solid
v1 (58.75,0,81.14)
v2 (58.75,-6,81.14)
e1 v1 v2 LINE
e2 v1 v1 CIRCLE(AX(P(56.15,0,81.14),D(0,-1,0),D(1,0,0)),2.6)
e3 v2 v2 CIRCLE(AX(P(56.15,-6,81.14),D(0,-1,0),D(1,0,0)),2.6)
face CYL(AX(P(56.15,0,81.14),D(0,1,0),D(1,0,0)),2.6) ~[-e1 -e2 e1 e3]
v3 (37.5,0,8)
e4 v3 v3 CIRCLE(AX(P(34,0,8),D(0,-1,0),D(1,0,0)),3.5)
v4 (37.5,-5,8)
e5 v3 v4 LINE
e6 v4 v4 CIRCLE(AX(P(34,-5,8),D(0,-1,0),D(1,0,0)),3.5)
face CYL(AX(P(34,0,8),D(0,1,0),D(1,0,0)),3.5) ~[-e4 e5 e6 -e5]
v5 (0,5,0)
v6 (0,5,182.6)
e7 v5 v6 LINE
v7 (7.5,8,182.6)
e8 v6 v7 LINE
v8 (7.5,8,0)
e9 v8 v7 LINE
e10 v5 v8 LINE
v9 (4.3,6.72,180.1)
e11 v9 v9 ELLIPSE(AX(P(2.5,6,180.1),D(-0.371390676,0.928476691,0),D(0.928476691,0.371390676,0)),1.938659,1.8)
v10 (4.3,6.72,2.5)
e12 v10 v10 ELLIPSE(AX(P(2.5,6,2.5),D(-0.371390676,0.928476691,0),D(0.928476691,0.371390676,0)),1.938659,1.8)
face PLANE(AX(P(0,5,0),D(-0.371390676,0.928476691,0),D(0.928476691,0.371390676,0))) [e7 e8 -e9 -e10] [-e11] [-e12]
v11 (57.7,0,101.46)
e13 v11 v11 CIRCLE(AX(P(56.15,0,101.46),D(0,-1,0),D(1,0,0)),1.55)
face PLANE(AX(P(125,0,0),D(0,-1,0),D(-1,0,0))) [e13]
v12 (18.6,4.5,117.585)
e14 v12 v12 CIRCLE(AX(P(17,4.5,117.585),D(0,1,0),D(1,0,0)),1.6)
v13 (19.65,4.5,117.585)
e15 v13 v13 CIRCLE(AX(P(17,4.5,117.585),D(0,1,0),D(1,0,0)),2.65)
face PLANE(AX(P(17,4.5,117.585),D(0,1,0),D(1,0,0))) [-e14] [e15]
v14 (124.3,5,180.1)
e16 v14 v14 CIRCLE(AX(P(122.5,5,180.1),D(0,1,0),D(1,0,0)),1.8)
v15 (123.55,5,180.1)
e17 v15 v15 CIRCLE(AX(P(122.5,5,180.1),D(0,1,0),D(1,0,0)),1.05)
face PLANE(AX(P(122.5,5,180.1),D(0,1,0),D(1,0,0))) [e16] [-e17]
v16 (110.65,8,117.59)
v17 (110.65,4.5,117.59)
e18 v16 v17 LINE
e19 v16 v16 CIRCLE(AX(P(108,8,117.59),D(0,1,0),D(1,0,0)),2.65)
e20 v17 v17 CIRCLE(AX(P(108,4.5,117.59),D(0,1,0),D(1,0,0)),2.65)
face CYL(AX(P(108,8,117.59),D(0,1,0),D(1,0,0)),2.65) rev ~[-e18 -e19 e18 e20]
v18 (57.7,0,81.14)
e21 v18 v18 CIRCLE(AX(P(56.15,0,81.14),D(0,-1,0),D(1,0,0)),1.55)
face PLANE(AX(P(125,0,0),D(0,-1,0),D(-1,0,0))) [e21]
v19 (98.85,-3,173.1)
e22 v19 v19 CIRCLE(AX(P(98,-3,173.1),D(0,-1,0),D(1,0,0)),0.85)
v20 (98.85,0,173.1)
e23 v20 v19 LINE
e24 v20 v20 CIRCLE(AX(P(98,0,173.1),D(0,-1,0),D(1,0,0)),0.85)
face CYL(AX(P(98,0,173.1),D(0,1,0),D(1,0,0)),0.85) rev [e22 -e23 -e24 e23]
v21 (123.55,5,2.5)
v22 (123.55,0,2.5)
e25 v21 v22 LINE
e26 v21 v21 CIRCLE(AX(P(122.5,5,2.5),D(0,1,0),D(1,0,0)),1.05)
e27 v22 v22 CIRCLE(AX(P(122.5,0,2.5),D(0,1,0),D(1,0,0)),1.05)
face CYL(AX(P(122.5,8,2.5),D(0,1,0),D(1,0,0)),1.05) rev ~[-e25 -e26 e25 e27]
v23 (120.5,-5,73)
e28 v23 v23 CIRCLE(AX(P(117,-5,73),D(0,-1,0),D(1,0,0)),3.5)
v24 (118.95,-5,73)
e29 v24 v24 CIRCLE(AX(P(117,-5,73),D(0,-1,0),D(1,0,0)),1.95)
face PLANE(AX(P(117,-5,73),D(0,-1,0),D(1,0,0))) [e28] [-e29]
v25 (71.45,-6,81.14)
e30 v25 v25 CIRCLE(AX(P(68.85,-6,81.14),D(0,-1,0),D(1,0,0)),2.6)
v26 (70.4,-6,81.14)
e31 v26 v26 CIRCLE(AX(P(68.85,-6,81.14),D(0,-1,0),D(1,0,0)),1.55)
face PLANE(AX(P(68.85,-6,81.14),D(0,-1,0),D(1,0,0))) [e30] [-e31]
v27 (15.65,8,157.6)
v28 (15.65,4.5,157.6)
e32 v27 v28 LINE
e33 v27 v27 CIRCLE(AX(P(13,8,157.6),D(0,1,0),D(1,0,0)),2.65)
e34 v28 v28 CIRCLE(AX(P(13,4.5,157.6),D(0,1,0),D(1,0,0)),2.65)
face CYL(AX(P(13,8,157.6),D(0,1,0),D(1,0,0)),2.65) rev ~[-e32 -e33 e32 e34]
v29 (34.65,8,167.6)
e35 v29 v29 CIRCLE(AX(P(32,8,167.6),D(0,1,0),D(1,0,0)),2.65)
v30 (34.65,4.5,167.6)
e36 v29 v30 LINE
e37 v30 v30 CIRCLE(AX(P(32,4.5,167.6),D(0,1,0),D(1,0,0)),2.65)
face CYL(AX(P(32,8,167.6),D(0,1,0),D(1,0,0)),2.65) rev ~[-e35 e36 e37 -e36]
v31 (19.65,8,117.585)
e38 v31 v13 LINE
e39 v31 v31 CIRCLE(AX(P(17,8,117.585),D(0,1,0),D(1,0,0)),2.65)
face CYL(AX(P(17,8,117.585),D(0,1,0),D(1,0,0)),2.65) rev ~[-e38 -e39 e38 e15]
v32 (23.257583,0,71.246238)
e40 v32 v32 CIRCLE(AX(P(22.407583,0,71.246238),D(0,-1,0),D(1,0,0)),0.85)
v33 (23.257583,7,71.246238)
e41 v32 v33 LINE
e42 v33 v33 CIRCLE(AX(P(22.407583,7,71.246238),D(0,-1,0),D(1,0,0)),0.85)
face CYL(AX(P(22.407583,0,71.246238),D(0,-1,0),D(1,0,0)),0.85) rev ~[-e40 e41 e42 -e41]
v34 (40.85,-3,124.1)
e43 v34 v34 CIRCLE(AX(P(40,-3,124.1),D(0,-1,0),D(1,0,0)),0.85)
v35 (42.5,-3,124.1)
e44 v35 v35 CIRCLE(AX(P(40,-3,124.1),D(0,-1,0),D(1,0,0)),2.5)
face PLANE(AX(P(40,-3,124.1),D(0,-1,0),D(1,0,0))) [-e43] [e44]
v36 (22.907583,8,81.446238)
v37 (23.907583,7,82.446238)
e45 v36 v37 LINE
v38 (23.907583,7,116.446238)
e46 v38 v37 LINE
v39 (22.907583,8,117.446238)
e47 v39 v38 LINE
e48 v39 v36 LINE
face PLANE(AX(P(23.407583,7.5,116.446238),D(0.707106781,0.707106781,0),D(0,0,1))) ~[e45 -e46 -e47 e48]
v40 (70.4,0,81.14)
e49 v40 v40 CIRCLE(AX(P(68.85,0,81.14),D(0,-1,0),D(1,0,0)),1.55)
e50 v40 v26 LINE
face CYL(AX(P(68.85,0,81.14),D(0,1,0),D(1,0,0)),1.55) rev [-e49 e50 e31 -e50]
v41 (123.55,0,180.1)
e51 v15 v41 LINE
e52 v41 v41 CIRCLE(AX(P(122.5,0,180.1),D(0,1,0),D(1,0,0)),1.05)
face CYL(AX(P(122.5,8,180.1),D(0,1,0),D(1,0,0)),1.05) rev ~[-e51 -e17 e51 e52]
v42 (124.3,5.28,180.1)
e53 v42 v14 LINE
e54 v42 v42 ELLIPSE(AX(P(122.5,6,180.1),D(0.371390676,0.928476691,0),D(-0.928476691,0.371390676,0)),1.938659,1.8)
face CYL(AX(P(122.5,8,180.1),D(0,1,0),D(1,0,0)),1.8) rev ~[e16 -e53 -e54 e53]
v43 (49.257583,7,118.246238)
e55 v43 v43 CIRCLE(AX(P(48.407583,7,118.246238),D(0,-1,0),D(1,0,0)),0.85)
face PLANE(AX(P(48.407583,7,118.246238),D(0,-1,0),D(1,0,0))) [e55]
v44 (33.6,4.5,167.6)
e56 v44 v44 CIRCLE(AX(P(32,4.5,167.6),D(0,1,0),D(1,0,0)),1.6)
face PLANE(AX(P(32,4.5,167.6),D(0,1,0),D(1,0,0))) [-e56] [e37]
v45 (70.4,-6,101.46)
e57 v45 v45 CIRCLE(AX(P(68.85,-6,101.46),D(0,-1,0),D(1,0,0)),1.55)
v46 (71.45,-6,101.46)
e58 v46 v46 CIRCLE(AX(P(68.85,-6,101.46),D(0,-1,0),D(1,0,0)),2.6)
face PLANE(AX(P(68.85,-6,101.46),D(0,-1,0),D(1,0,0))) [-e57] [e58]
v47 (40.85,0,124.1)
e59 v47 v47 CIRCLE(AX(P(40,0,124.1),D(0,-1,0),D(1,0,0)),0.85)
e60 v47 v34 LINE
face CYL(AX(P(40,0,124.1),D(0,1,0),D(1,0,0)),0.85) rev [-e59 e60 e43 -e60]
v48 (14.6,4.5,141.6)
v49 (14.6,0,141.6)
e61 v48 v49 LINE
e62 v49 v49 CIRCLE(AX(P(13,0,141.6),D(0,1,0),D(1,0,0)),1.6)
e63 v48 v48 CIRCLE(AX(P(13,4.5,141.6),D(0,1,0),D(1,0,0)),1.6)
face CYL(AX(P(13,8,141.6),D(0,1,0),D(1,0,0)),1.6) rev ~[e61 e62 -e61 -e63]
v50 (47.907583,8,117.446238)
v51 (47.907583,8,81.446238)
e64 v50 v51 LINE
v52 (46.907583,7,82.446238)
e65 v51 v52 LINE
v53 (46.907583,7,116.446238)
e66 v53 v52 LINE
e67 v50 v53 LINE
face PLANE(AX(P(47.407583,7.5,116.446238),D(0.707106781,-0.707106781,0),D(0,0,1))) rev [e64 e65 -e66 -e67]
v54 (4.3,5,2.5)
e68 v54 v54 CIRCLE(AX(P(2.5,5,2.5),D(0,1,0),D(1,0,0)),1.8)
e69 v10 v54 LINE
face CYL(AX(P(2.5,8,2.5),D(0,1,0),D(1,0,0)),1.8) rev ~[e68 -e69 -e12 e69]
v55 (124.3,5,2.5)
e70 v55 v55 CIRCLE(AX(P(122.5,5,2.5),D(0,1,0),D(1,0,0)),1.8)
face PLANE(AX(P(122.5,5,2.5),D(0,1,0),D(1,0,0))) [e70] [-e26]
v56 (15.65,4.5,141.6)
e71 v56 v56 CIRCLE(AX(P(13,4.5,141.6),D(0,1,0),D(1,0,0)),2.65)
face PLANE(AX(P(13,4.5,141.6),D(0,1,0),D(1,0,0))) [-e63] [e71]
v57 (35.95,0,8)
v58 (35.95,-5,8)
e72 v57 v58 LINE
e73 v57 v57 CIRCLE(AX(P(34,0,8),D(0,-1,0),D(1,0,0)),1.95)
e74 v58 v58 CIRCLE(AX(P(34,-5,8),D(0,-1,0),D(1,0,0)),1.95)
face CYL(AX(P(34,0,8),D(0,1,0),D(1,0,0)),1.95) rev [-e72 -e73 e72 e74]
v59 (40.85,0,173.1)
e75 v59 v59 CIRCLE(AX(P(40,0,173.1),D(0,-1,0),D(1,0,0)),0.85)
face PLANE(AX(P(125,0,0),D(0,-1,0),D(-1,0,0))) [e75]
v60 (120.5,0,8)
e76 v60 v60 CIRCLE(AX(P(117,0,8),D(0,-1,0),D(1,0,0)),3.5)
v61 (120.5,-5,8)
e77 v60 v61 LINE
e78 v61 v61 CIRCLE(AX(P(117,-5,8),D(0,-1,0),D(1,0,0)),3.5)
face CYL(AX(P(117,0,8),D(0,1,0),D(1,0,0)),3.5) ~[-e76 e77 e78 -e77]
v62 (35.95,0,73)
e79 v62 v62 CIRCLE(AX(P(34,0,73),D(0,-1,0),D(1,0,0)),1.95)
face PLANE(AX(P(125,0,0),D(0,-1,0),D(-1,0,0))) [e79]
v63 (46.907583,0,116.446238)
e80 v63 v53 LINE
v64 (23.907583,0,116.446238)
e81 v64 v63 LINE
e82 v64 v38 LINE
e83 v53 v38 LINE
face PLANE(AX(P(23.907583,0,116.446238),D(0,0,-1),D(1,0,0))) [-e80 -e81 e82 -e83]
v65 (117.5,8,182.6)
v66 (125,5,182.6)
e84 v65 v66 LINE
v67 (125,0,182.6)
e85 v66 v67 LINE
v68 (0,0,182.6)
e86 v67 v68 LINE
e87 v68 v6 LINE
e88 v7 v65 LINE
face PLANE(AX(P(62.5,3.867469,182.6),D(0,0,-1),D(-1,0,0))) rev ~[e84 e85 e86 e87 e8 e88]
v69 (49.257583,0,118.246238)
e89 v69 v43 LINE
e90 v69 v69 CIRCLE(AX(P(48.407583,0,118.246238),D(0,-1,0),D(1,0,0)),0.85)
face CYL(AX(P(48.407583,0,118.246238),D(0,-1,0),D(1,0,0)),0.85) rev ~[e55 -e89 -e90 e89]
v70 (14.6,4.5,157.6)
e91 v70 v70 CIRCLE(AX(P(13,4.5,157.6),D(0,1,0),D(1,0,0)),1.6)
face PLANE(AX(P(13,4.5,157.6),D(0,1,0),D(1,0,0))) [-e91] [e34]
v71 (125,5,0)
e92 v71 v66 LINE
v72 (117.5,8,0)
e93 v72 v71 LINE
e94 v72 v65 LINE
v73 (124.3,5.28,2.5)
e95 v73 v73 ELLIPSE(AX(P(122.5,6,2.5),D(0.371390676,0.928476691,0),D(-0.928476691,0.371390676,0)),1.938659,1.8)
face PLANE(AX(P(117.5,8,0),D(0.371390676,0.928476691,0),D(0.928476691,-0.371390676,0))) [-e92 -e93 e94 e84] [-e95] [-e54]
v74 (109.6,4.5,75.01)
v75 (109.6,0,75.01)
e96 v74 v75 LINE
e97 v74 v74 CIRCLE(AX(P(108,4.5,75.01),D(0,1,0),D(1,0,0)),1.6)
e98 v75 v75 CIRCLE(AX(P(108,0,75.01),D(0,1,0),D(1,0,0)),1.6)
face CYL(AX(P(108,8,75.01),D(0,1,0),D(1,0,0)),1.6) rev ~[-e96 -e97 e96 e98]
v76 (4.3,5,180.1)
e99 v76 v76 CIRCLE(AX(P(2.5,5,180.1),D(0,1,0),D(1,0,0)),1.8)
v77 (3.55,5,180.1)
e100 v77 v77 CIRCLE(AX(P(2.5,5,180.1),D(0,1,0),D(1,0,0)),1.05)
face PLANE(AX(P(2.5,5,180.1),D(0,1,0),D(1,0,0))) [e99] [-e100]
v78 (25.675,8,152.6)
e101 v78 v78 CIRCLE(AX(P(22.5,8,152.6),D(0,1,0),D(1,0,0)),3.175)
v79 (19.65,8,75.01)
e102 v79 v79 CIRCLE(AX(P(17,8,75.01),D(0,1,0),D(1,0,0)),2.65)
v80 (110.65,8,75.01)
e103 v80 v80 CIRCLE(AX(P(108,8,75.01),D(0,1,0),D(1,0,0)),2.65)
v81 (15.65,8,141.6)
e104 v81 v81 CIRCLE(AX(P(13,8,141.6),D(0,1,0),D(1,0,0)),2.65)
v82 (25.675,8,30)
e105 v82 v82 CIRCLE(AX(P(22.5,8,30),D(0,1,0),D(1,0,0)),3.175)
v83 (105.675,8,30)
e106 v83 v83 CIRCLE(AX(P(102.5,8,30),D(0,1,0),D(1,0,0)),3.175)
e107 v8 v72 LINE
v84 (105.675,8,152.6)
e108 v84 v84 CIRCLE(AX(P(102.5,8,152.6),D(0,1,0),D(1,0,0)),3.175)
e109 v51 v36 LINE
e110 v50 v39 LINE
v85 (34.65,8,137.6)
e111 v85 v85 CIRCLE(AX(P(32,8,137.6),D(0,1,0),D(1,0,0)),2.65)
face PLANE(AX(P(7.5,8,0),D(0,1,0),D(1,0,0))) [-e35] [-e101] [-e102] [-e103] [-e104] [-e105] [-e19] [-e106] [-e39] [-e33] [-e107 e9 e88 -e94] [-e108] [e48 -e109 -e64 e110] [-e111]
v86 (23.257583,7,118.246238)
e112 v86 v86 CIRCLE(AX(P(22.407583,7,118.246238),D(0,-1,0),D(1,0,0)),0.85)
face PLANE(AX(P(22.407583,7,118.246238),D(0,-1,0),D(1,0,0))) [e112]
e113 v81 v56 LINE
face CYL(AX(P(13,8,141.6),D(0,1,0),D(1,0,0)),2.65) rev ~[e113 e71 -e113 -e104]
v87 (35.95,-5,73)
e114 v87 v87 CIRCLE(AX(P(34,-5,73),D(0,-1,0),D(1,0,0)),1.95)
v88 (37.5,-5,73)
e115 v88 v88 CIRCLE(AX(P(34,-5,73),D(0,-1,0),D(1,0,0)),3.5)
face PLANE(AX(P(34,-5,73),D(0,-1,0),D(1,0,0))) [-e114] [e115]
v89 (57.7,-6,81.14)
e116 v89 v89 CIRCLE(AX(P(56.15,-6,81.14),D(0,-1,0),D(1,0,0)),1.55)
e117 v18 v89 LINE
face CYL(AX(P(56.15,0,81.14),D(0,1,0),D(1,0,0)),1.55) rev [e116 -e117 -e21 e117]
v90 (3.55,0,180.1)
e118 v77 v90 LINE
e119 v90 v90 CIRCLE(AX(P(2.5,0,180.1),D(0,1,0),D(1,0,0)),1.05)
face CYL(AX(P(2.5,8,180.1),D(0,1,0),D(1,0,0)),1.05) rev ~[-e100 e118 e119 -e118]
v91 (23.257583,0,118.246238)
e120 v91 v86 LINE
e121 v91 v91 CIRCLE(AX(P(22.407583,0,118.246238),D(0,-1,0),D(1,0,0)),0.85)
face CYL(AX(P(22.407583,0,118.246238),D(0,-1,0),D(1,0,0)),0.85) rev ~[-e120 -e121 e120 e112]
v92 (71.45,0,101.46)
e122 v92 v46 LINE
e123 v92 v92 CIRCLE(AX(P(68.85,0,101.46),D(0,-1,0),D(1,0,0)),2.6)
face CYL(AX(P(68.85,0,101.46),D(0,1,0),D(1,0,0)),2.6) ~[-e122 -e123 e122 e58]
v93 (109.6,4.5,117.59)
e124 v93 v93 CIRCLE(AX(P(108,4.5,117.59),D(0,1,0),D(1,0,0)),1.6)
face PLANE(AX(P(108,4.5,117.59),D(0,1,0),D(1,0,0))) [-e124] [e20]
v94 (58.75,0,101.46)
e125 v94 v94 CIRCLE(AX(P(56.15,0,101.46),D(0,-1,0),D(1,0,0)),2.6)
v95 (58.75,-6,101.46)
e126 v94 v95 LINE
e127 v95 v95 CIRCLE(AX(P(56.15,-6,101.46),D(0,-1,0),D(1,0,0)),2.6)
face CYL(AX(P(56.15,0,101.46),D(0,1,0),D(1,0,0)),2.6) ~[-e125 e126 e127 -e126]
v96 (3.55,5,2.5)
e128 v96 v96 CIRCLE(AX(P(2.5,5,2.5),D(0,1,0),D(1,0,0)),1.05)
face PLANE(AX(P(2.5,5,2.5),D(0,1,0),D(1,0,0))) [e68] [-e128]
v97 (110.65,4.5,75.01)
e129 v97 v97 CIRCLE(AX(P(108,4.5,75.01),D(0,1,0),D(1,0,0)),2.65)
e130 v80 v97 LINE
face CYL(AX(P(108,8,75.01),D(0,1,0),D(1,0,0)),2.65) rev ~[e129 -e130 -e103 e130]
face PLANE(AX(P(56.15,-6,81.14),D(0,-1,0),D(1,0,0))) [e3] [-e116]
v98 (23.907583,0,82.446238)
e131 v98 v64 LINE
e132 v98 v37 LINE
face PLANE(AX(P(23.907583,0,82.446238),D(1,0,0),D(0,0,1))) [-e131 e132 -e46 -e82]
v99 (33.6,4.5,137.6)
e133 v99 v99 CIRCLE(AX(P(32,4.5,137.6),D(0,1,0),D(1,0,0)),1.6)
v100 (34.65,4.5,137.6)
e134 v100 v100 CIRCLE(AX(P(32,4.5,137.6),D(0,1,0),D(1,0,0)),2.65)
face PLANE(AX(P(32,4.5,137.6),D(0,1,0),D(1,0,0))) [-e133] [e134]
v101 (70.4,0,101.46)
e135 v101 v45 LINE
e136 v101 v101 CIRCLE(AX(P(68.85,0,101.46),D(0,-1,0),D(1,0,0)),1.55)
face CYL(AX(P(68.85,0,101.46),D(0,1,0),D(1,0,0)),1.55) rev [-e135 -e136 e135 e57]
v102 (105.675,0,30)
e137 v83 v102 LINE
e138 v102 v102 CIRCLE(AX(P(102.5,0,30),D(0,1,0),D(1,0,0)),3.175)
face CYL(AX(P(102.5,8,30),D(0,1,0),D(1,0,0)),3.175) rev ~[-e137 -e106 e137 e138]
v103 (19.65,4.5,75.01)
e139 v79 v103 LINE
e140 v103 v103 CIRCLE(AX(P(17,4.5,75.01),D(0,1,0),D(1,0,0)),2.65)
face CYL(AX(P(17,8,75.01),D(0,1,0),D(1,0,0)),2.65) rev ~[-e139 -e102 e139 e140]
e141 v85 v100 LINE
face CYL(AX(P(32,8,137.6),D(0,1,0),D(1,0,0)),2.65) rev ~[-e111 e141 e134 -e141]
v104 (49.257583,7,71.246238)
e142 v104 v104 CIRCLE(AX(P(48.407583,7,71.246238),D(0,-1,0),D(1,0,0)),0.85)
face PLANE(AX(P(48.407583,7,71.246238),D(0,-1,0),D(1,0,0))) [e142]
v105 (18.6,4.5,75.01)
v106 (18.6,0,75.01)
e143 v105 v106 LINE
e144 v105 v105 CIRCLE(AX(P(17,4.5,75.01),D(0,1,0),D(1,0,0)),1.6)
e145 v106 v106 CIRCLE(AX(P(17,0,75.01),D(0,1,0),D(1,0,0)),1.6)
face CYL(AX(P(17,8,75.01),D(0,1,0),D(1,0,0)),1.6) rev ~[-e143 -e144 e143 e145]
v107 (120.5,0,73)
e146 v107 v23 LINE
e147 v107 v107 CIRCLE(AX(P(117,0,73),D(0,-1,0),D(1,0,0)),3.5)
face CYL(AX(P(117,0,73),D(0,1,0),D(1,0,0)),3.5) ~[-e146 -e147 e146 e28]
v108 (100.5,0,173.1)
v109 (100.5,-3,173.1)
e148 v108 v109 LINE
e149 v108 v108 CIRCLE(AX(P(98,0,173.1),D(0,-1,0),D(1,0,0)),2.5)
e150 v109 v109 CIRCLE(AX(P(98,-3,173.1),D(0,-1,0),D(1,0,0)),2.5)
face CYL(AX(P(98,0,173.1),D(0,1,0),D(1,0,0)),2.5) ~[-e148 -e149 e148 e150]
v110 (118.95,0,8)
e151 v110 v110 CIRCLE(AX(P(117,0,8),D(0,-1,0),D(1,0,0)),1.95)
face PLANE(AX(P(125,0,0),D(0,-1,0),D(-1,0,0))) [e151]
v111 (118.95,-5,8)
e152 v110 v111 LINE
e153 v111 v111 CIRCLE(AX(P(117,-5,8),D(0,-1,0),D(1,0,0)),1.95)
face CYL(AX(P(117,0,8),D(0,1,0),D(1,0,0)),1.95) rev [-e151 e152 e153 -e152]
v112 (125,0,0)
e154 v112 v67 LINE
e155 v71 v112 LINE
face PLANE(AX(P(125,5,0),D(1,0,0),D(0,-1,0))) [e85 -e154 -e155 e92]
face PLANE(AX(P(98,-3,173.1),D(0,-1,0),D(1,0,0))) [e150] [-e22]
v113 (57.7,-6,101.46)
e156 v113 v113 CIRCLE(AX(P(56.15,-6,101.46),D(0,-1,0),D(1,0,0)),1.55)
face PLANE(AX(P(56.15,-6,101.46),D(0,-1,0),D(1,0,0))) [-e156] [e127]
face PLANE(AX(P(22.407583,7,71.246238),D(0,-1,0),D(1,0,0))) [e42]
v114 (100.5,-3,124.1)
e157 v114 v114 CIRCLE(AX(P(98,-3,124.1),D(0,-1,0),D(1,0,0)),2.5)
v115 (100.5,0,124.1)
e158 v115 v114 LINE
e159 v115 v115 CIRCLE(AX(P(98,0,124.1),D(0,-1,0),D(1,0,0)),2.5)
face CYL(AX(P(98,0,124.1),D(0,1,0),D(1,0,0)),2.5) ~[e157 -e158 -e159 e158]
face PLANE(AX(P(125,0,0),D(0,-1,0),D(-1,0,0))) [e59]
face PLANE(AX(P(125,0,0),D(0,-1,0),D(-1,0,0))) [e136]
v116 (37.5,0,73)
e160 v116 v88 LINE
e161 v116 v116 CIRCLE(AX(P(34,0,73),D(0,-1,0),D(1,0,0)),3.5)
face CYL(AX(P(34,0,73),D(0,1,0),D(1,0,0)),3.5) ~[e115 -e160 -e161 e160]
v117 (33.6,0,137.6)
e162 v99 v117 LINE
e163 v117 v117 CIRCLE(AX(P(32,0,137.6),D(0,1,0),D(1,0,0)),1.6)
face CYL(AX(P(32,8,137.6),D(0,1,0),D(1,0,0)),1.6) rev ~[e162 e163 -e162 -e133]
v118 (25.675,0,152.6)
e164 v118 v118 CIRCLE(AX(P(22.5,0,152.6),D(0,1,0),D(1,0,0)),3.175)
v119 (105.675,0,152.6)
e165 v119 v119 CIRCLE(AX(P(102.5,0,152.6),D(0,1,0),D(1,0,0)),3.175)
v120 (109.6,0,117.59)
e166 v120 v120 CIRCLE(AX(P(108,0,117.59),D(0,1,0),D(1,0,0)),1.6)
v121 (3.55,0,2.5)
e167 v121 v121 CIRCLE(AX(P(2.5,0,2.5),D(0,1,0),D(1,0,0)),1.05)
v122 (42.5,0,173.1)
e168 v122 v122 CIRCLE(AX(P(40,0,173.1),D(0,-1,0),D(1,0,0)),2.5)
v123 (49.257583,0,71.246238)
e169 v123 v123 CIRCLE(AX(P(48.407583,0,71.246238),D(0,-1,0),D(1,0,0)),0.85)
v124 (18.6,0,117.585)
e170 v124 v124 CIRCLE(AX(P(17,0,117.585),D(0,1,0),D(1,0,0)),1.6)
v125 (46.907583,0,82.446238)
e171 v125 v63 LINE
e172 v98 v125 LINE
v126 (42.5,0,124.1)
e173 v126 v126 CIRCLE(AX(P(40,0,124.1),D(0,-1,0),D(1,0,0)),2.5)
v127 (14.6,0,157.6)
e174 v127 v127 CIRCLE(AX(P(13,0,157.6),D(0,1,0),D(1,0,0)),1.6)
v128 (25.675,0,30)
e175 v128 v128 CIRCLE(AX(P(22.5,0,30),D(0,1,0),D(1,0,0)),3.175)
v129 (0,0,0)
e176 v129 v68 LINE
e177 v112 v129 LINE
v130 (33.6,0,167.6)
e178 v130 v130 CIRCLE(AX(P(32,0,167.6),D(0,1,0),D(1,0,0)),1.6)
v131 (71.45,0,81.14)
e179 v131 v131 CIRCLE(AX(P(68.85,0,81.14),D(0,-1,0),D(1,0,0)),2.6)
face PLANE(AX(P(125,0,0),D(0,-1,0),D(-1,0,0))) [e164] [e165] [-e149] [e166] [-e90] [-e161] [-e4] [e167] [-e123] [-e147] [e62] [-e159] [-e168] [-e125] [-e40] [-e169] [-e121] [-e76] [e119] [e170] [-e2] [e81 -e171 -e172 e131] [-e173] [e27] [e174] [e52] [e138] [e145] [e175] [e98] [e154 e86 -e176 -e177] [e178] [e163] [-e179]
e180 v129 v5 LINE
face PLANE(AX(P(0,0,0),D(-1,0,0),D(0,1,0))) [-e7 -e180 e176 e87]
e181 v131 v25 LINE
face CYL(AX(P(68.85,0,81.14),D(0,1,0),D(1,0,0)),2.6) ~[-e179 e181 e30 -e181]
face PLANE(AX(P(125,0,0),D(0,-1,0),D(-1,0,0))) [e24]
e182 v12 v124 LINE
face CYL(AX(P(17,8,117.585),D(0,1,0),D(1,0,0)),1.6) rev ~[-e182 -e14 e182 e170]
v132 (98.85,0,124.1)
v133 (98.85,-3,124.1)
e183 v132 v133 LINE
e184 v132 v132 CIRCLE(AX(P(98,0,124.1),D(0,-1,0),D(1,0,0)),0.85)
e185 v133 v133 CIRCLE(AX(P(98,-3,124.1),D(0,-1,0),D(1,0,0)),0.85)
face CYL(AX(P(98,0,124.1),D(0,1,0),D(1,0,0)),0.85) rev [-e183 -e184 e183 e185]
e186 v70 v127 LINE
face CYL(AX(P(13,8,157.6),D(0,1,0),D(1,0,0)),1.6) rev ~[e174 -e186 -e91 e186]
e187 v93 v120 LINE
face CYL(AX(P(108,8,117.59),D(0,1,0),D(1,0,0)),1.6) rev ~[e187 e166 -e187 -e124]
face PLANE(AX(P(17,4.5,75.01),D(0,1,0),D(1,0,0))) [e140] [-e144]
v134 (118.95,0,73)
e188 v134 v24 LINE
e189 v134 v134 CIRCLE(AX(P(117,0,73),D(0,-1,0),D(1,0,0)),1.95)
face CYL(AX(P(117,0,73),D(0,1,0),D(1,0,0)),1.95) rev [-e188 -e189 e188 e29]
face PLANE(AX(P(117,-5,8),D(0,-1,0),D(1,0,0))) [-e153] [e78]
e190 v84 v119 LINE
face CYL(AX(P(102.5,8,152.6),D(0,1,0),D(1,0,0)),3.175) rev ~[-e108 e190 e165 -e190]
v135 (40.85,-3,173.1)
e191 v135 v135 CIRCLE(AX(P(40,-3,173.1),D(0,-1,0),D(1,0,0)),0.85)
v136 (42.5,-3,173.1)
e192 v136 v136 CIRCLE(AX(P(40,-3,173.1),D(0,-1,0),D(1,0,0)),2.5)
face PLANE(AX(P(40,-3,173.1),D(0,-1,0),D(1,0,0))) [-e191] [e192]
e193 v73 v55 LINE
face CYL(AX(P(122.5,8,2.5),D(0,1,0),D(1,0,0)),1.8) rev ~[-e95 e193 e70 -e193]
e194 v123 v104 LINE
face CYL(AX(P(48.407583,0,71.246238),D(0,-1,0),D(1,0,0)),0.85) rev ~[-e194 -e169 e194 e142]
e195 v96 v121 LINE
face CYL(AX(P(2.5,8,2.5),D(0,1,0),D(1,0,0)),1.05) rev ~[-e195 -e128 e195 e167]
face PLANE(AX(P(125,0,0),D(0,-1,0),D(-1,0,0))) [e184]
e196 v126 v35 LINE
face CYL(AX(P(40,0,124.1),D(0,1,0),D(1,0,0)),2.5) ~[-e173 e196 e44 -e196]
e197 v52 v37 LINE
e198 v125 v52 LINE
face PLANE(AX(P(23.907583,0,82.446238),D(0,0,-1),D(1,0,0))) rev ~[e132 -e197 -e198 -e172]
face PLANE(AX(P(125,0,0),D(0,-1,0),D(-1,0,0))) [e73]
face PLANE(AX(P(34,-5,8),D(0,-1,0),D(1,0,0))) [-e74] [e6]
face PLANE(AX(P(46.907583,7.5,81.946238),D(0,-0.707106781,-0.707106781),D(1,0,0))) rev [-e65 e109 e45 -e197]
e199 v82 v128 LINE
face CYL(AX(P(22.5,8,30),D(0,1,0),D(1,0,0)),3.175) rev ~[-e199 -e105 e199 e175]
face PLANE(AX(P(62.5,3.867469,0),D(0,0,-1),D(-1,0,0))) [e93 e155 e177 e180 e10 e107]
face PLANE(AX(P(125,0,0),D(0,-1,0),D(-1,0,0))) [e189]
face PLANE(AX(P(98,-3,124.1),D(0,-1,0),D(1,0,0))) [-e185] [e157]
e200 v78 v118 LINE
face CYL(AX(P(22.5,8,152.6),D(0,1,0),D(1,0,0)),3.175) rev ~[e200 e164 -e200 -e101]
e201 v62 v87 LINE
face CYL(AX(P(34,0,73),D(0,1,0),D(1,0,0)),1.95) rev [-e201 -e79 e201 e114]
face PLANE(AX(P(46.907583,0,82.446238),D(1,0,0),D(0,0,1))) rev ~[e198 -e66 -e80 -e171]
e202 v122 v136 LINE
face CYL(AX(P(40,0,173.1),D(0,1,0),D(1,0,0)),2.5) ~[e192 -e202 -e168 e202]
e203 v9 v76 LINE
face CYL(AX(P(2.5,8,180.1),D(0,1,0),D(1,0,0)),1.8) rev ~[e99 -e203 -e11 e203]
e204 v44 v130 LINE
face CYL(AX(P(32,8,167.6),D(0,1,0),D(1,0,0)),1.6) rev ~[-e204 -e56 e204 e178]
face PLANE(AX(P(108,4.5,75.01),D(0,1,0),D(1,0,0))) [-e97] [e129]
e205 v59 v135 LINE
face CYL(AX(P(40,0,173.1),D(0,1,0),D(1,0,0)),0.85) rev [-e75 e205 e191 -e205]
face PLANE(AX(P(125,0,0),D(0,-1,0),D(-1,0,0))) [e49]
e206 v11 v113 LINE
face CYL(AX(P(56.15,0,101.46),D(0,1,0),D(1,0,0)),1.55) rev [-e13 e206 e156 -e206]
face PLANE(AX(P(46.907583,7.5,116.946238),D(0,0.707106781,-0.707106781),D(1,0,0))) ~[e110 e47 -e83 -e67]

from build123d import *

# Parameters (mm, degrees)
BOSS_EXTRUDE1_DEPTH = 182.6
SKETCH2_R           = 2.5
SKETCH2_R_2         = 0.85
BOSS_EXTRUDE2_DEPTH = 3
SKETCH3_R           = 3.175
CUT_EXTRUDE1_DEPTH  = 15
SKETCH4_R           = 2.6
SKETCH4_R_2         = 1.55
BOSS_EXTRUDE3_DEPTH = 6
SKETCH7_R           = 1.6
CUT_EXTRUDE3_DEPTH  = 10
SKETCH8_R           = 1.6
CUT_EXTRUDE4_DEPTH  = 10
SKETCH6_R           = 0.85
CUT_EXTRUDE2_DEPTH  = 7
SKETCH9_R           = 3.5
SKETCH9_R_2         = 1.95
BOSS_EXTRUDE4_DEPTH = 5
SKETCH10_R          = 1.6
CUT_EXTRUDE5_DEPTH  = 10
SKETCH11_W          = 23
SKETCH11_H          = 34
CUT_EXTRUDE6_DEPTH  = 10
CHAMFER1_SIZE       = 1
SKETCH12_R          = 2.65
CUT_EXTRUDE7_DEPTH  = 3.5
SKETCH13_R          = 1.05
CUT_EXTRUDE8_DEPTH  = 8
SKETCH15_R          = 1.8
CUT_EXTRUDE9_DEPTH  = 3


with BuildPart() as part:
    # Sketch1 → Boss-Extrude1 (new body)
    with BuildSketch(Plane.XY):
        Polygon((0, 5), (7.5, 8), (117.5, 8), (125, 5), (125, 0), (0, 0), align=None)
    extrude(amount=BOSS_EXTRUDE1_DEPTH)

    # Sketch2 → Boss-Extrude2 (add)
    with BuildSketch(Plane.XZ):
        with Locations((40, 173.1)):
            Circle(SKETCH2_R)
        with Locations((40, 173.1)):
            Circle(SKETCH2_R_2, mode=Mode.SUBTRACT)
        with Locations((98, 173.1)):
            Circle(SKETCH2_R)
        with Locations((98, 173.1)):
            Circle(SKETCH2_R_2, mode=Mode.SUBTRACT)
        with Locations((98, 124.1)):
            Circle(SKETCH2_R)
        with Locations((98, 124.1)):
            Circle(SKETCH2_R_2, mode=Mode.SUBTRACT)
        with Locations((40, 124.1)):
            Circle(SKETCH2_R)
        with Locations((40, 124.1)):
            Circle(SKETCH2_R_2, mode=Mode.SUBTRACT)
    extrude(amount=BOSS_EXTRUDE2_DEPTH)

    # Sketch3 → Cut-Extrude1 (cut)
    with BuildSketch(Plane(origin=(0, 8, 0), x_dir=(1, 0, 0), z_dir=(0, 1, 0))):
        with Locations((22.5, -152.6)):
            Circle(SKETCH3_R)
        with Locations((102.5, -152.6)):
            Circle(SKETCH3_R)
        with Locations((102.5, -30)):
            Circle(SKETCH3_R)
        with Locations((22.5, -30)):
            Circle(SKETCH3_R)
    extrude(amount=-CUT_EXTRUDE1_DEPTH, mode=Mode.SUBTRACT)

    # Sketch4 → Boss-Extrude3 (add)
    with BuildSketch(Plane.XZ):
        with Locations((56.15, 81.14)):
            Circle(SKETCH4_R)
        with Locations((56.15, 81.14)):
            Circle(SKETCH4_R_2, mode=Mode.SUBTRACT)
        with Locations((68.85, 81.14)):
            Circle(SKETCH4_R)
        with Locations((68.85, 81.14)):
            Circle(SKETCH4_R_2, mode=Mode.SUBTRACT)
        with Locations((68.85, 101.46)):
            Circle(SKETCH4_R)
        with Locations((68.85, 101.46)):
            Circle(SKETCH4_R_2, mode=Mode.SUBTRACT)
        with Locations((56.15, 101.46)):
            Circle(SKETCH4_R)
        with Locations((56.15, 101.46)):
            Circle(SKETCH4_R_2, mode=Mode.SUBTRACT)
    extrude(amount=BOSS_EXTRUDE3_DEPTH)

    # Sketch7 → Cut-Extrude3 (cut)
    with BuildSketch(Plane(origin=(0, 8, 0), x_dir=(1, 0, 0), z_dir=(0, 1, 0))):
        with Locations((17, -75.01)):
            Circle(SKETCH7_R)
        with Locations((17, -117.585)):
            Circle(SKETCH7_R)
        with Locations((108, -75.01)):
            Circle(SKETCH7_R)
        with Locations((108, -117.59)):
            Circle(SKETCH7_R)
    extrude(amount=-CUT_EXTRUDE3_DEPTH, mode=Mode.SUBTRACT)

    # Sketch8 → Cut-Extrude4 (cut)
    with BuildSketch(Plane(origin=(0, 8, 0), x_dir=(1, 0, 0), z_dir=(0, 1, 0))):
        with Locations((13, -141.6)):
            Circle(SKETCH8_R)
        with Locations((13, -157.6)):
            Circle(SKETCH8_R)
    extrude(amount=-CUT_EXTRUDE4_DEPTH, mode=Mode.SUBTRACT)

    # Sketch6 → Cut-Extrude2 (cut)
    with BuildSketch(Plane.XZ):
        with Locations((22.407582627, 118.246238122)):
            Circle(SKETCH6_R)
        with Locations((48.407582627, 118.246238122)):
            Circle(SKETCH6_R)
        with Locations((48.407582627, 71.246238122)):
            Circle(SKETCH6_R)
        with Locations((22.407582627, 71.246238122)):
            Circle(SKETCH6_R)
    extrude(amount=-CUT_EXTRUDE2_DEPTH, mode=Mode.SUBTRACT)

    # Sketch9 → Boss-Extrude4 (add)
    with BuildSketch(Plane.XZ):
        with Locations((117, 73)):
            Circle(SKETCH9_R)
        with Locations((117, 73)):
            Circle(SKETCH9_R_2, mode=Mode.SUBTRACT)
        with Locations((117, 8)):
            Circle(SKETCH9_R)
        with Locations((117, 8)):
            Circle(SKETCH9_R_2, mode=Mode.SUBTRACT)
        with Locations((34, 8)):
            Circle(SKETCH9_R)
        with Locations((34, 8)):
            Circle(SKETCH9_R_2, mode=Mode.SUBTRACT)
        with Locations((34, 73)):
            Circle(SKETCH9_R)
        with Locations((34, 73)):
            Circle(SKETCH9_R_2, mode=Mode.SUBTRACT)
    extrude(amount=BOSS_EXTRUDE4_DEPTH)

    # Sketch10 → Cut-Extrude5 (cut)
    with BuildSketch(Plane(origin=(0, 8, 0), x_dir=(1, 0, 0), z_dir=(0, 1, 0))):
        with Locations((32, -137.6)):
            Circle(SKETCH10_R)
        with Locations((32, -167.6)):
            Circle(SKETCH10_R)
    extrude(amount=-CUT_EXTRUDE5_DEPTH, mode=Mode.SUBTRACT)

    # Sketch11 → Cut-Extrude6 (cut)
    with BuildSketch(Plane.XZ):
        with Locations((35.407582627, 99.446238122)):
            Rectangle(SKETCH11_W, SKETCH11_H)
    extrude(amount=-CUT_EXTRUDE6_DEPTH, mode=Mode.SUBTRACT)

    # Chamfer1
    chamfer1_edges = [part.edges().sort_by_distance(p)[0] for p in [
        (35.407582627, 8, 116.446238122),
        (23.907582627, 8, 99.446238122),
        (35.407582627, 8, 82.446238122),
        (46.907582627, 8, 99.446238122),
    ]]
    chamfer(chamfer1_edges, length=CHAMFER1_SIZE)

    # Sketch12 → Cut-Extrude7 (cut)
    with BuildSketch(Plane(origin=(0, 8, 0), x_dir=(1, 0, 0), z_dir=(0, 1, 0))):
        with Locations((17, -75.01)):
            Circle(SKETCH12_R)
        with Locations((108, -75.01)):
            Circle(SKETCH12_R)
        with Locations((108, -117.59)):
            Circle(SKETCH12_R)
        with Locations((32, -137.6)):
            Circle(SKETCH12_R)
        with Locations((32, -167.6)):
            Circle(SKETCH12_R)
        with Locations((13, -157.6)):
            Circle(SKETCH12_R)
        with Locations((13, -141.6)):
            Circle(SKETCH12_R)
        with Locations((17, -117.585)):
            Circle(SKETCH12_R)
    extrude(amount=-CUT_EXTRUDE7_DEPTH, mode=Mode.SUBTRACT)

    # Sketch13 → Cut-Extrude8 (cut)
    with BuildSketch(Plane(origin=(0, 8, 0), x_dir=(1, 0, 0), z_dir=(0, 1, 0))):
        with Locations((2.5, -180.1)):
            Circle(SKETCH13_R)
        with Locations((122.5, -180.1)):
            Circle(SKETCH13_R)
        with Locations((122.5, -2.5)):
            Circle(SKETCH13_R)
        with Locations((2.5, -2.5)):
            Circle(SKETCH13_R)
    extrude(amount=-CUT_EXTRUDE8_DEPTH, mode=Mode.SUBTRACT)

    # Sketch15 → Cut-Extrude9 (cut)
    with BuildSketch(Plane(origin=(0, 8, 0), x_dir=(1, 0, 0), z_dir=(0, 1, 0))):
        with Locations((2.5, -180.1)):
            Circle(SKETCH15_R)
        with Locations((2.5, -2.5)):
            Circle(SKETCH15_R)
        with Locations((122.5, -2.5)):
            Circle(SKETCH15_R)
        with Locations((122.5, -180.1)):
            Circle(SKETCH15_R)
    extrude(amount=-CUT_EXTRUDE9_DEPTH, mode=Mode.SUBTRACT)


solid = part.part
